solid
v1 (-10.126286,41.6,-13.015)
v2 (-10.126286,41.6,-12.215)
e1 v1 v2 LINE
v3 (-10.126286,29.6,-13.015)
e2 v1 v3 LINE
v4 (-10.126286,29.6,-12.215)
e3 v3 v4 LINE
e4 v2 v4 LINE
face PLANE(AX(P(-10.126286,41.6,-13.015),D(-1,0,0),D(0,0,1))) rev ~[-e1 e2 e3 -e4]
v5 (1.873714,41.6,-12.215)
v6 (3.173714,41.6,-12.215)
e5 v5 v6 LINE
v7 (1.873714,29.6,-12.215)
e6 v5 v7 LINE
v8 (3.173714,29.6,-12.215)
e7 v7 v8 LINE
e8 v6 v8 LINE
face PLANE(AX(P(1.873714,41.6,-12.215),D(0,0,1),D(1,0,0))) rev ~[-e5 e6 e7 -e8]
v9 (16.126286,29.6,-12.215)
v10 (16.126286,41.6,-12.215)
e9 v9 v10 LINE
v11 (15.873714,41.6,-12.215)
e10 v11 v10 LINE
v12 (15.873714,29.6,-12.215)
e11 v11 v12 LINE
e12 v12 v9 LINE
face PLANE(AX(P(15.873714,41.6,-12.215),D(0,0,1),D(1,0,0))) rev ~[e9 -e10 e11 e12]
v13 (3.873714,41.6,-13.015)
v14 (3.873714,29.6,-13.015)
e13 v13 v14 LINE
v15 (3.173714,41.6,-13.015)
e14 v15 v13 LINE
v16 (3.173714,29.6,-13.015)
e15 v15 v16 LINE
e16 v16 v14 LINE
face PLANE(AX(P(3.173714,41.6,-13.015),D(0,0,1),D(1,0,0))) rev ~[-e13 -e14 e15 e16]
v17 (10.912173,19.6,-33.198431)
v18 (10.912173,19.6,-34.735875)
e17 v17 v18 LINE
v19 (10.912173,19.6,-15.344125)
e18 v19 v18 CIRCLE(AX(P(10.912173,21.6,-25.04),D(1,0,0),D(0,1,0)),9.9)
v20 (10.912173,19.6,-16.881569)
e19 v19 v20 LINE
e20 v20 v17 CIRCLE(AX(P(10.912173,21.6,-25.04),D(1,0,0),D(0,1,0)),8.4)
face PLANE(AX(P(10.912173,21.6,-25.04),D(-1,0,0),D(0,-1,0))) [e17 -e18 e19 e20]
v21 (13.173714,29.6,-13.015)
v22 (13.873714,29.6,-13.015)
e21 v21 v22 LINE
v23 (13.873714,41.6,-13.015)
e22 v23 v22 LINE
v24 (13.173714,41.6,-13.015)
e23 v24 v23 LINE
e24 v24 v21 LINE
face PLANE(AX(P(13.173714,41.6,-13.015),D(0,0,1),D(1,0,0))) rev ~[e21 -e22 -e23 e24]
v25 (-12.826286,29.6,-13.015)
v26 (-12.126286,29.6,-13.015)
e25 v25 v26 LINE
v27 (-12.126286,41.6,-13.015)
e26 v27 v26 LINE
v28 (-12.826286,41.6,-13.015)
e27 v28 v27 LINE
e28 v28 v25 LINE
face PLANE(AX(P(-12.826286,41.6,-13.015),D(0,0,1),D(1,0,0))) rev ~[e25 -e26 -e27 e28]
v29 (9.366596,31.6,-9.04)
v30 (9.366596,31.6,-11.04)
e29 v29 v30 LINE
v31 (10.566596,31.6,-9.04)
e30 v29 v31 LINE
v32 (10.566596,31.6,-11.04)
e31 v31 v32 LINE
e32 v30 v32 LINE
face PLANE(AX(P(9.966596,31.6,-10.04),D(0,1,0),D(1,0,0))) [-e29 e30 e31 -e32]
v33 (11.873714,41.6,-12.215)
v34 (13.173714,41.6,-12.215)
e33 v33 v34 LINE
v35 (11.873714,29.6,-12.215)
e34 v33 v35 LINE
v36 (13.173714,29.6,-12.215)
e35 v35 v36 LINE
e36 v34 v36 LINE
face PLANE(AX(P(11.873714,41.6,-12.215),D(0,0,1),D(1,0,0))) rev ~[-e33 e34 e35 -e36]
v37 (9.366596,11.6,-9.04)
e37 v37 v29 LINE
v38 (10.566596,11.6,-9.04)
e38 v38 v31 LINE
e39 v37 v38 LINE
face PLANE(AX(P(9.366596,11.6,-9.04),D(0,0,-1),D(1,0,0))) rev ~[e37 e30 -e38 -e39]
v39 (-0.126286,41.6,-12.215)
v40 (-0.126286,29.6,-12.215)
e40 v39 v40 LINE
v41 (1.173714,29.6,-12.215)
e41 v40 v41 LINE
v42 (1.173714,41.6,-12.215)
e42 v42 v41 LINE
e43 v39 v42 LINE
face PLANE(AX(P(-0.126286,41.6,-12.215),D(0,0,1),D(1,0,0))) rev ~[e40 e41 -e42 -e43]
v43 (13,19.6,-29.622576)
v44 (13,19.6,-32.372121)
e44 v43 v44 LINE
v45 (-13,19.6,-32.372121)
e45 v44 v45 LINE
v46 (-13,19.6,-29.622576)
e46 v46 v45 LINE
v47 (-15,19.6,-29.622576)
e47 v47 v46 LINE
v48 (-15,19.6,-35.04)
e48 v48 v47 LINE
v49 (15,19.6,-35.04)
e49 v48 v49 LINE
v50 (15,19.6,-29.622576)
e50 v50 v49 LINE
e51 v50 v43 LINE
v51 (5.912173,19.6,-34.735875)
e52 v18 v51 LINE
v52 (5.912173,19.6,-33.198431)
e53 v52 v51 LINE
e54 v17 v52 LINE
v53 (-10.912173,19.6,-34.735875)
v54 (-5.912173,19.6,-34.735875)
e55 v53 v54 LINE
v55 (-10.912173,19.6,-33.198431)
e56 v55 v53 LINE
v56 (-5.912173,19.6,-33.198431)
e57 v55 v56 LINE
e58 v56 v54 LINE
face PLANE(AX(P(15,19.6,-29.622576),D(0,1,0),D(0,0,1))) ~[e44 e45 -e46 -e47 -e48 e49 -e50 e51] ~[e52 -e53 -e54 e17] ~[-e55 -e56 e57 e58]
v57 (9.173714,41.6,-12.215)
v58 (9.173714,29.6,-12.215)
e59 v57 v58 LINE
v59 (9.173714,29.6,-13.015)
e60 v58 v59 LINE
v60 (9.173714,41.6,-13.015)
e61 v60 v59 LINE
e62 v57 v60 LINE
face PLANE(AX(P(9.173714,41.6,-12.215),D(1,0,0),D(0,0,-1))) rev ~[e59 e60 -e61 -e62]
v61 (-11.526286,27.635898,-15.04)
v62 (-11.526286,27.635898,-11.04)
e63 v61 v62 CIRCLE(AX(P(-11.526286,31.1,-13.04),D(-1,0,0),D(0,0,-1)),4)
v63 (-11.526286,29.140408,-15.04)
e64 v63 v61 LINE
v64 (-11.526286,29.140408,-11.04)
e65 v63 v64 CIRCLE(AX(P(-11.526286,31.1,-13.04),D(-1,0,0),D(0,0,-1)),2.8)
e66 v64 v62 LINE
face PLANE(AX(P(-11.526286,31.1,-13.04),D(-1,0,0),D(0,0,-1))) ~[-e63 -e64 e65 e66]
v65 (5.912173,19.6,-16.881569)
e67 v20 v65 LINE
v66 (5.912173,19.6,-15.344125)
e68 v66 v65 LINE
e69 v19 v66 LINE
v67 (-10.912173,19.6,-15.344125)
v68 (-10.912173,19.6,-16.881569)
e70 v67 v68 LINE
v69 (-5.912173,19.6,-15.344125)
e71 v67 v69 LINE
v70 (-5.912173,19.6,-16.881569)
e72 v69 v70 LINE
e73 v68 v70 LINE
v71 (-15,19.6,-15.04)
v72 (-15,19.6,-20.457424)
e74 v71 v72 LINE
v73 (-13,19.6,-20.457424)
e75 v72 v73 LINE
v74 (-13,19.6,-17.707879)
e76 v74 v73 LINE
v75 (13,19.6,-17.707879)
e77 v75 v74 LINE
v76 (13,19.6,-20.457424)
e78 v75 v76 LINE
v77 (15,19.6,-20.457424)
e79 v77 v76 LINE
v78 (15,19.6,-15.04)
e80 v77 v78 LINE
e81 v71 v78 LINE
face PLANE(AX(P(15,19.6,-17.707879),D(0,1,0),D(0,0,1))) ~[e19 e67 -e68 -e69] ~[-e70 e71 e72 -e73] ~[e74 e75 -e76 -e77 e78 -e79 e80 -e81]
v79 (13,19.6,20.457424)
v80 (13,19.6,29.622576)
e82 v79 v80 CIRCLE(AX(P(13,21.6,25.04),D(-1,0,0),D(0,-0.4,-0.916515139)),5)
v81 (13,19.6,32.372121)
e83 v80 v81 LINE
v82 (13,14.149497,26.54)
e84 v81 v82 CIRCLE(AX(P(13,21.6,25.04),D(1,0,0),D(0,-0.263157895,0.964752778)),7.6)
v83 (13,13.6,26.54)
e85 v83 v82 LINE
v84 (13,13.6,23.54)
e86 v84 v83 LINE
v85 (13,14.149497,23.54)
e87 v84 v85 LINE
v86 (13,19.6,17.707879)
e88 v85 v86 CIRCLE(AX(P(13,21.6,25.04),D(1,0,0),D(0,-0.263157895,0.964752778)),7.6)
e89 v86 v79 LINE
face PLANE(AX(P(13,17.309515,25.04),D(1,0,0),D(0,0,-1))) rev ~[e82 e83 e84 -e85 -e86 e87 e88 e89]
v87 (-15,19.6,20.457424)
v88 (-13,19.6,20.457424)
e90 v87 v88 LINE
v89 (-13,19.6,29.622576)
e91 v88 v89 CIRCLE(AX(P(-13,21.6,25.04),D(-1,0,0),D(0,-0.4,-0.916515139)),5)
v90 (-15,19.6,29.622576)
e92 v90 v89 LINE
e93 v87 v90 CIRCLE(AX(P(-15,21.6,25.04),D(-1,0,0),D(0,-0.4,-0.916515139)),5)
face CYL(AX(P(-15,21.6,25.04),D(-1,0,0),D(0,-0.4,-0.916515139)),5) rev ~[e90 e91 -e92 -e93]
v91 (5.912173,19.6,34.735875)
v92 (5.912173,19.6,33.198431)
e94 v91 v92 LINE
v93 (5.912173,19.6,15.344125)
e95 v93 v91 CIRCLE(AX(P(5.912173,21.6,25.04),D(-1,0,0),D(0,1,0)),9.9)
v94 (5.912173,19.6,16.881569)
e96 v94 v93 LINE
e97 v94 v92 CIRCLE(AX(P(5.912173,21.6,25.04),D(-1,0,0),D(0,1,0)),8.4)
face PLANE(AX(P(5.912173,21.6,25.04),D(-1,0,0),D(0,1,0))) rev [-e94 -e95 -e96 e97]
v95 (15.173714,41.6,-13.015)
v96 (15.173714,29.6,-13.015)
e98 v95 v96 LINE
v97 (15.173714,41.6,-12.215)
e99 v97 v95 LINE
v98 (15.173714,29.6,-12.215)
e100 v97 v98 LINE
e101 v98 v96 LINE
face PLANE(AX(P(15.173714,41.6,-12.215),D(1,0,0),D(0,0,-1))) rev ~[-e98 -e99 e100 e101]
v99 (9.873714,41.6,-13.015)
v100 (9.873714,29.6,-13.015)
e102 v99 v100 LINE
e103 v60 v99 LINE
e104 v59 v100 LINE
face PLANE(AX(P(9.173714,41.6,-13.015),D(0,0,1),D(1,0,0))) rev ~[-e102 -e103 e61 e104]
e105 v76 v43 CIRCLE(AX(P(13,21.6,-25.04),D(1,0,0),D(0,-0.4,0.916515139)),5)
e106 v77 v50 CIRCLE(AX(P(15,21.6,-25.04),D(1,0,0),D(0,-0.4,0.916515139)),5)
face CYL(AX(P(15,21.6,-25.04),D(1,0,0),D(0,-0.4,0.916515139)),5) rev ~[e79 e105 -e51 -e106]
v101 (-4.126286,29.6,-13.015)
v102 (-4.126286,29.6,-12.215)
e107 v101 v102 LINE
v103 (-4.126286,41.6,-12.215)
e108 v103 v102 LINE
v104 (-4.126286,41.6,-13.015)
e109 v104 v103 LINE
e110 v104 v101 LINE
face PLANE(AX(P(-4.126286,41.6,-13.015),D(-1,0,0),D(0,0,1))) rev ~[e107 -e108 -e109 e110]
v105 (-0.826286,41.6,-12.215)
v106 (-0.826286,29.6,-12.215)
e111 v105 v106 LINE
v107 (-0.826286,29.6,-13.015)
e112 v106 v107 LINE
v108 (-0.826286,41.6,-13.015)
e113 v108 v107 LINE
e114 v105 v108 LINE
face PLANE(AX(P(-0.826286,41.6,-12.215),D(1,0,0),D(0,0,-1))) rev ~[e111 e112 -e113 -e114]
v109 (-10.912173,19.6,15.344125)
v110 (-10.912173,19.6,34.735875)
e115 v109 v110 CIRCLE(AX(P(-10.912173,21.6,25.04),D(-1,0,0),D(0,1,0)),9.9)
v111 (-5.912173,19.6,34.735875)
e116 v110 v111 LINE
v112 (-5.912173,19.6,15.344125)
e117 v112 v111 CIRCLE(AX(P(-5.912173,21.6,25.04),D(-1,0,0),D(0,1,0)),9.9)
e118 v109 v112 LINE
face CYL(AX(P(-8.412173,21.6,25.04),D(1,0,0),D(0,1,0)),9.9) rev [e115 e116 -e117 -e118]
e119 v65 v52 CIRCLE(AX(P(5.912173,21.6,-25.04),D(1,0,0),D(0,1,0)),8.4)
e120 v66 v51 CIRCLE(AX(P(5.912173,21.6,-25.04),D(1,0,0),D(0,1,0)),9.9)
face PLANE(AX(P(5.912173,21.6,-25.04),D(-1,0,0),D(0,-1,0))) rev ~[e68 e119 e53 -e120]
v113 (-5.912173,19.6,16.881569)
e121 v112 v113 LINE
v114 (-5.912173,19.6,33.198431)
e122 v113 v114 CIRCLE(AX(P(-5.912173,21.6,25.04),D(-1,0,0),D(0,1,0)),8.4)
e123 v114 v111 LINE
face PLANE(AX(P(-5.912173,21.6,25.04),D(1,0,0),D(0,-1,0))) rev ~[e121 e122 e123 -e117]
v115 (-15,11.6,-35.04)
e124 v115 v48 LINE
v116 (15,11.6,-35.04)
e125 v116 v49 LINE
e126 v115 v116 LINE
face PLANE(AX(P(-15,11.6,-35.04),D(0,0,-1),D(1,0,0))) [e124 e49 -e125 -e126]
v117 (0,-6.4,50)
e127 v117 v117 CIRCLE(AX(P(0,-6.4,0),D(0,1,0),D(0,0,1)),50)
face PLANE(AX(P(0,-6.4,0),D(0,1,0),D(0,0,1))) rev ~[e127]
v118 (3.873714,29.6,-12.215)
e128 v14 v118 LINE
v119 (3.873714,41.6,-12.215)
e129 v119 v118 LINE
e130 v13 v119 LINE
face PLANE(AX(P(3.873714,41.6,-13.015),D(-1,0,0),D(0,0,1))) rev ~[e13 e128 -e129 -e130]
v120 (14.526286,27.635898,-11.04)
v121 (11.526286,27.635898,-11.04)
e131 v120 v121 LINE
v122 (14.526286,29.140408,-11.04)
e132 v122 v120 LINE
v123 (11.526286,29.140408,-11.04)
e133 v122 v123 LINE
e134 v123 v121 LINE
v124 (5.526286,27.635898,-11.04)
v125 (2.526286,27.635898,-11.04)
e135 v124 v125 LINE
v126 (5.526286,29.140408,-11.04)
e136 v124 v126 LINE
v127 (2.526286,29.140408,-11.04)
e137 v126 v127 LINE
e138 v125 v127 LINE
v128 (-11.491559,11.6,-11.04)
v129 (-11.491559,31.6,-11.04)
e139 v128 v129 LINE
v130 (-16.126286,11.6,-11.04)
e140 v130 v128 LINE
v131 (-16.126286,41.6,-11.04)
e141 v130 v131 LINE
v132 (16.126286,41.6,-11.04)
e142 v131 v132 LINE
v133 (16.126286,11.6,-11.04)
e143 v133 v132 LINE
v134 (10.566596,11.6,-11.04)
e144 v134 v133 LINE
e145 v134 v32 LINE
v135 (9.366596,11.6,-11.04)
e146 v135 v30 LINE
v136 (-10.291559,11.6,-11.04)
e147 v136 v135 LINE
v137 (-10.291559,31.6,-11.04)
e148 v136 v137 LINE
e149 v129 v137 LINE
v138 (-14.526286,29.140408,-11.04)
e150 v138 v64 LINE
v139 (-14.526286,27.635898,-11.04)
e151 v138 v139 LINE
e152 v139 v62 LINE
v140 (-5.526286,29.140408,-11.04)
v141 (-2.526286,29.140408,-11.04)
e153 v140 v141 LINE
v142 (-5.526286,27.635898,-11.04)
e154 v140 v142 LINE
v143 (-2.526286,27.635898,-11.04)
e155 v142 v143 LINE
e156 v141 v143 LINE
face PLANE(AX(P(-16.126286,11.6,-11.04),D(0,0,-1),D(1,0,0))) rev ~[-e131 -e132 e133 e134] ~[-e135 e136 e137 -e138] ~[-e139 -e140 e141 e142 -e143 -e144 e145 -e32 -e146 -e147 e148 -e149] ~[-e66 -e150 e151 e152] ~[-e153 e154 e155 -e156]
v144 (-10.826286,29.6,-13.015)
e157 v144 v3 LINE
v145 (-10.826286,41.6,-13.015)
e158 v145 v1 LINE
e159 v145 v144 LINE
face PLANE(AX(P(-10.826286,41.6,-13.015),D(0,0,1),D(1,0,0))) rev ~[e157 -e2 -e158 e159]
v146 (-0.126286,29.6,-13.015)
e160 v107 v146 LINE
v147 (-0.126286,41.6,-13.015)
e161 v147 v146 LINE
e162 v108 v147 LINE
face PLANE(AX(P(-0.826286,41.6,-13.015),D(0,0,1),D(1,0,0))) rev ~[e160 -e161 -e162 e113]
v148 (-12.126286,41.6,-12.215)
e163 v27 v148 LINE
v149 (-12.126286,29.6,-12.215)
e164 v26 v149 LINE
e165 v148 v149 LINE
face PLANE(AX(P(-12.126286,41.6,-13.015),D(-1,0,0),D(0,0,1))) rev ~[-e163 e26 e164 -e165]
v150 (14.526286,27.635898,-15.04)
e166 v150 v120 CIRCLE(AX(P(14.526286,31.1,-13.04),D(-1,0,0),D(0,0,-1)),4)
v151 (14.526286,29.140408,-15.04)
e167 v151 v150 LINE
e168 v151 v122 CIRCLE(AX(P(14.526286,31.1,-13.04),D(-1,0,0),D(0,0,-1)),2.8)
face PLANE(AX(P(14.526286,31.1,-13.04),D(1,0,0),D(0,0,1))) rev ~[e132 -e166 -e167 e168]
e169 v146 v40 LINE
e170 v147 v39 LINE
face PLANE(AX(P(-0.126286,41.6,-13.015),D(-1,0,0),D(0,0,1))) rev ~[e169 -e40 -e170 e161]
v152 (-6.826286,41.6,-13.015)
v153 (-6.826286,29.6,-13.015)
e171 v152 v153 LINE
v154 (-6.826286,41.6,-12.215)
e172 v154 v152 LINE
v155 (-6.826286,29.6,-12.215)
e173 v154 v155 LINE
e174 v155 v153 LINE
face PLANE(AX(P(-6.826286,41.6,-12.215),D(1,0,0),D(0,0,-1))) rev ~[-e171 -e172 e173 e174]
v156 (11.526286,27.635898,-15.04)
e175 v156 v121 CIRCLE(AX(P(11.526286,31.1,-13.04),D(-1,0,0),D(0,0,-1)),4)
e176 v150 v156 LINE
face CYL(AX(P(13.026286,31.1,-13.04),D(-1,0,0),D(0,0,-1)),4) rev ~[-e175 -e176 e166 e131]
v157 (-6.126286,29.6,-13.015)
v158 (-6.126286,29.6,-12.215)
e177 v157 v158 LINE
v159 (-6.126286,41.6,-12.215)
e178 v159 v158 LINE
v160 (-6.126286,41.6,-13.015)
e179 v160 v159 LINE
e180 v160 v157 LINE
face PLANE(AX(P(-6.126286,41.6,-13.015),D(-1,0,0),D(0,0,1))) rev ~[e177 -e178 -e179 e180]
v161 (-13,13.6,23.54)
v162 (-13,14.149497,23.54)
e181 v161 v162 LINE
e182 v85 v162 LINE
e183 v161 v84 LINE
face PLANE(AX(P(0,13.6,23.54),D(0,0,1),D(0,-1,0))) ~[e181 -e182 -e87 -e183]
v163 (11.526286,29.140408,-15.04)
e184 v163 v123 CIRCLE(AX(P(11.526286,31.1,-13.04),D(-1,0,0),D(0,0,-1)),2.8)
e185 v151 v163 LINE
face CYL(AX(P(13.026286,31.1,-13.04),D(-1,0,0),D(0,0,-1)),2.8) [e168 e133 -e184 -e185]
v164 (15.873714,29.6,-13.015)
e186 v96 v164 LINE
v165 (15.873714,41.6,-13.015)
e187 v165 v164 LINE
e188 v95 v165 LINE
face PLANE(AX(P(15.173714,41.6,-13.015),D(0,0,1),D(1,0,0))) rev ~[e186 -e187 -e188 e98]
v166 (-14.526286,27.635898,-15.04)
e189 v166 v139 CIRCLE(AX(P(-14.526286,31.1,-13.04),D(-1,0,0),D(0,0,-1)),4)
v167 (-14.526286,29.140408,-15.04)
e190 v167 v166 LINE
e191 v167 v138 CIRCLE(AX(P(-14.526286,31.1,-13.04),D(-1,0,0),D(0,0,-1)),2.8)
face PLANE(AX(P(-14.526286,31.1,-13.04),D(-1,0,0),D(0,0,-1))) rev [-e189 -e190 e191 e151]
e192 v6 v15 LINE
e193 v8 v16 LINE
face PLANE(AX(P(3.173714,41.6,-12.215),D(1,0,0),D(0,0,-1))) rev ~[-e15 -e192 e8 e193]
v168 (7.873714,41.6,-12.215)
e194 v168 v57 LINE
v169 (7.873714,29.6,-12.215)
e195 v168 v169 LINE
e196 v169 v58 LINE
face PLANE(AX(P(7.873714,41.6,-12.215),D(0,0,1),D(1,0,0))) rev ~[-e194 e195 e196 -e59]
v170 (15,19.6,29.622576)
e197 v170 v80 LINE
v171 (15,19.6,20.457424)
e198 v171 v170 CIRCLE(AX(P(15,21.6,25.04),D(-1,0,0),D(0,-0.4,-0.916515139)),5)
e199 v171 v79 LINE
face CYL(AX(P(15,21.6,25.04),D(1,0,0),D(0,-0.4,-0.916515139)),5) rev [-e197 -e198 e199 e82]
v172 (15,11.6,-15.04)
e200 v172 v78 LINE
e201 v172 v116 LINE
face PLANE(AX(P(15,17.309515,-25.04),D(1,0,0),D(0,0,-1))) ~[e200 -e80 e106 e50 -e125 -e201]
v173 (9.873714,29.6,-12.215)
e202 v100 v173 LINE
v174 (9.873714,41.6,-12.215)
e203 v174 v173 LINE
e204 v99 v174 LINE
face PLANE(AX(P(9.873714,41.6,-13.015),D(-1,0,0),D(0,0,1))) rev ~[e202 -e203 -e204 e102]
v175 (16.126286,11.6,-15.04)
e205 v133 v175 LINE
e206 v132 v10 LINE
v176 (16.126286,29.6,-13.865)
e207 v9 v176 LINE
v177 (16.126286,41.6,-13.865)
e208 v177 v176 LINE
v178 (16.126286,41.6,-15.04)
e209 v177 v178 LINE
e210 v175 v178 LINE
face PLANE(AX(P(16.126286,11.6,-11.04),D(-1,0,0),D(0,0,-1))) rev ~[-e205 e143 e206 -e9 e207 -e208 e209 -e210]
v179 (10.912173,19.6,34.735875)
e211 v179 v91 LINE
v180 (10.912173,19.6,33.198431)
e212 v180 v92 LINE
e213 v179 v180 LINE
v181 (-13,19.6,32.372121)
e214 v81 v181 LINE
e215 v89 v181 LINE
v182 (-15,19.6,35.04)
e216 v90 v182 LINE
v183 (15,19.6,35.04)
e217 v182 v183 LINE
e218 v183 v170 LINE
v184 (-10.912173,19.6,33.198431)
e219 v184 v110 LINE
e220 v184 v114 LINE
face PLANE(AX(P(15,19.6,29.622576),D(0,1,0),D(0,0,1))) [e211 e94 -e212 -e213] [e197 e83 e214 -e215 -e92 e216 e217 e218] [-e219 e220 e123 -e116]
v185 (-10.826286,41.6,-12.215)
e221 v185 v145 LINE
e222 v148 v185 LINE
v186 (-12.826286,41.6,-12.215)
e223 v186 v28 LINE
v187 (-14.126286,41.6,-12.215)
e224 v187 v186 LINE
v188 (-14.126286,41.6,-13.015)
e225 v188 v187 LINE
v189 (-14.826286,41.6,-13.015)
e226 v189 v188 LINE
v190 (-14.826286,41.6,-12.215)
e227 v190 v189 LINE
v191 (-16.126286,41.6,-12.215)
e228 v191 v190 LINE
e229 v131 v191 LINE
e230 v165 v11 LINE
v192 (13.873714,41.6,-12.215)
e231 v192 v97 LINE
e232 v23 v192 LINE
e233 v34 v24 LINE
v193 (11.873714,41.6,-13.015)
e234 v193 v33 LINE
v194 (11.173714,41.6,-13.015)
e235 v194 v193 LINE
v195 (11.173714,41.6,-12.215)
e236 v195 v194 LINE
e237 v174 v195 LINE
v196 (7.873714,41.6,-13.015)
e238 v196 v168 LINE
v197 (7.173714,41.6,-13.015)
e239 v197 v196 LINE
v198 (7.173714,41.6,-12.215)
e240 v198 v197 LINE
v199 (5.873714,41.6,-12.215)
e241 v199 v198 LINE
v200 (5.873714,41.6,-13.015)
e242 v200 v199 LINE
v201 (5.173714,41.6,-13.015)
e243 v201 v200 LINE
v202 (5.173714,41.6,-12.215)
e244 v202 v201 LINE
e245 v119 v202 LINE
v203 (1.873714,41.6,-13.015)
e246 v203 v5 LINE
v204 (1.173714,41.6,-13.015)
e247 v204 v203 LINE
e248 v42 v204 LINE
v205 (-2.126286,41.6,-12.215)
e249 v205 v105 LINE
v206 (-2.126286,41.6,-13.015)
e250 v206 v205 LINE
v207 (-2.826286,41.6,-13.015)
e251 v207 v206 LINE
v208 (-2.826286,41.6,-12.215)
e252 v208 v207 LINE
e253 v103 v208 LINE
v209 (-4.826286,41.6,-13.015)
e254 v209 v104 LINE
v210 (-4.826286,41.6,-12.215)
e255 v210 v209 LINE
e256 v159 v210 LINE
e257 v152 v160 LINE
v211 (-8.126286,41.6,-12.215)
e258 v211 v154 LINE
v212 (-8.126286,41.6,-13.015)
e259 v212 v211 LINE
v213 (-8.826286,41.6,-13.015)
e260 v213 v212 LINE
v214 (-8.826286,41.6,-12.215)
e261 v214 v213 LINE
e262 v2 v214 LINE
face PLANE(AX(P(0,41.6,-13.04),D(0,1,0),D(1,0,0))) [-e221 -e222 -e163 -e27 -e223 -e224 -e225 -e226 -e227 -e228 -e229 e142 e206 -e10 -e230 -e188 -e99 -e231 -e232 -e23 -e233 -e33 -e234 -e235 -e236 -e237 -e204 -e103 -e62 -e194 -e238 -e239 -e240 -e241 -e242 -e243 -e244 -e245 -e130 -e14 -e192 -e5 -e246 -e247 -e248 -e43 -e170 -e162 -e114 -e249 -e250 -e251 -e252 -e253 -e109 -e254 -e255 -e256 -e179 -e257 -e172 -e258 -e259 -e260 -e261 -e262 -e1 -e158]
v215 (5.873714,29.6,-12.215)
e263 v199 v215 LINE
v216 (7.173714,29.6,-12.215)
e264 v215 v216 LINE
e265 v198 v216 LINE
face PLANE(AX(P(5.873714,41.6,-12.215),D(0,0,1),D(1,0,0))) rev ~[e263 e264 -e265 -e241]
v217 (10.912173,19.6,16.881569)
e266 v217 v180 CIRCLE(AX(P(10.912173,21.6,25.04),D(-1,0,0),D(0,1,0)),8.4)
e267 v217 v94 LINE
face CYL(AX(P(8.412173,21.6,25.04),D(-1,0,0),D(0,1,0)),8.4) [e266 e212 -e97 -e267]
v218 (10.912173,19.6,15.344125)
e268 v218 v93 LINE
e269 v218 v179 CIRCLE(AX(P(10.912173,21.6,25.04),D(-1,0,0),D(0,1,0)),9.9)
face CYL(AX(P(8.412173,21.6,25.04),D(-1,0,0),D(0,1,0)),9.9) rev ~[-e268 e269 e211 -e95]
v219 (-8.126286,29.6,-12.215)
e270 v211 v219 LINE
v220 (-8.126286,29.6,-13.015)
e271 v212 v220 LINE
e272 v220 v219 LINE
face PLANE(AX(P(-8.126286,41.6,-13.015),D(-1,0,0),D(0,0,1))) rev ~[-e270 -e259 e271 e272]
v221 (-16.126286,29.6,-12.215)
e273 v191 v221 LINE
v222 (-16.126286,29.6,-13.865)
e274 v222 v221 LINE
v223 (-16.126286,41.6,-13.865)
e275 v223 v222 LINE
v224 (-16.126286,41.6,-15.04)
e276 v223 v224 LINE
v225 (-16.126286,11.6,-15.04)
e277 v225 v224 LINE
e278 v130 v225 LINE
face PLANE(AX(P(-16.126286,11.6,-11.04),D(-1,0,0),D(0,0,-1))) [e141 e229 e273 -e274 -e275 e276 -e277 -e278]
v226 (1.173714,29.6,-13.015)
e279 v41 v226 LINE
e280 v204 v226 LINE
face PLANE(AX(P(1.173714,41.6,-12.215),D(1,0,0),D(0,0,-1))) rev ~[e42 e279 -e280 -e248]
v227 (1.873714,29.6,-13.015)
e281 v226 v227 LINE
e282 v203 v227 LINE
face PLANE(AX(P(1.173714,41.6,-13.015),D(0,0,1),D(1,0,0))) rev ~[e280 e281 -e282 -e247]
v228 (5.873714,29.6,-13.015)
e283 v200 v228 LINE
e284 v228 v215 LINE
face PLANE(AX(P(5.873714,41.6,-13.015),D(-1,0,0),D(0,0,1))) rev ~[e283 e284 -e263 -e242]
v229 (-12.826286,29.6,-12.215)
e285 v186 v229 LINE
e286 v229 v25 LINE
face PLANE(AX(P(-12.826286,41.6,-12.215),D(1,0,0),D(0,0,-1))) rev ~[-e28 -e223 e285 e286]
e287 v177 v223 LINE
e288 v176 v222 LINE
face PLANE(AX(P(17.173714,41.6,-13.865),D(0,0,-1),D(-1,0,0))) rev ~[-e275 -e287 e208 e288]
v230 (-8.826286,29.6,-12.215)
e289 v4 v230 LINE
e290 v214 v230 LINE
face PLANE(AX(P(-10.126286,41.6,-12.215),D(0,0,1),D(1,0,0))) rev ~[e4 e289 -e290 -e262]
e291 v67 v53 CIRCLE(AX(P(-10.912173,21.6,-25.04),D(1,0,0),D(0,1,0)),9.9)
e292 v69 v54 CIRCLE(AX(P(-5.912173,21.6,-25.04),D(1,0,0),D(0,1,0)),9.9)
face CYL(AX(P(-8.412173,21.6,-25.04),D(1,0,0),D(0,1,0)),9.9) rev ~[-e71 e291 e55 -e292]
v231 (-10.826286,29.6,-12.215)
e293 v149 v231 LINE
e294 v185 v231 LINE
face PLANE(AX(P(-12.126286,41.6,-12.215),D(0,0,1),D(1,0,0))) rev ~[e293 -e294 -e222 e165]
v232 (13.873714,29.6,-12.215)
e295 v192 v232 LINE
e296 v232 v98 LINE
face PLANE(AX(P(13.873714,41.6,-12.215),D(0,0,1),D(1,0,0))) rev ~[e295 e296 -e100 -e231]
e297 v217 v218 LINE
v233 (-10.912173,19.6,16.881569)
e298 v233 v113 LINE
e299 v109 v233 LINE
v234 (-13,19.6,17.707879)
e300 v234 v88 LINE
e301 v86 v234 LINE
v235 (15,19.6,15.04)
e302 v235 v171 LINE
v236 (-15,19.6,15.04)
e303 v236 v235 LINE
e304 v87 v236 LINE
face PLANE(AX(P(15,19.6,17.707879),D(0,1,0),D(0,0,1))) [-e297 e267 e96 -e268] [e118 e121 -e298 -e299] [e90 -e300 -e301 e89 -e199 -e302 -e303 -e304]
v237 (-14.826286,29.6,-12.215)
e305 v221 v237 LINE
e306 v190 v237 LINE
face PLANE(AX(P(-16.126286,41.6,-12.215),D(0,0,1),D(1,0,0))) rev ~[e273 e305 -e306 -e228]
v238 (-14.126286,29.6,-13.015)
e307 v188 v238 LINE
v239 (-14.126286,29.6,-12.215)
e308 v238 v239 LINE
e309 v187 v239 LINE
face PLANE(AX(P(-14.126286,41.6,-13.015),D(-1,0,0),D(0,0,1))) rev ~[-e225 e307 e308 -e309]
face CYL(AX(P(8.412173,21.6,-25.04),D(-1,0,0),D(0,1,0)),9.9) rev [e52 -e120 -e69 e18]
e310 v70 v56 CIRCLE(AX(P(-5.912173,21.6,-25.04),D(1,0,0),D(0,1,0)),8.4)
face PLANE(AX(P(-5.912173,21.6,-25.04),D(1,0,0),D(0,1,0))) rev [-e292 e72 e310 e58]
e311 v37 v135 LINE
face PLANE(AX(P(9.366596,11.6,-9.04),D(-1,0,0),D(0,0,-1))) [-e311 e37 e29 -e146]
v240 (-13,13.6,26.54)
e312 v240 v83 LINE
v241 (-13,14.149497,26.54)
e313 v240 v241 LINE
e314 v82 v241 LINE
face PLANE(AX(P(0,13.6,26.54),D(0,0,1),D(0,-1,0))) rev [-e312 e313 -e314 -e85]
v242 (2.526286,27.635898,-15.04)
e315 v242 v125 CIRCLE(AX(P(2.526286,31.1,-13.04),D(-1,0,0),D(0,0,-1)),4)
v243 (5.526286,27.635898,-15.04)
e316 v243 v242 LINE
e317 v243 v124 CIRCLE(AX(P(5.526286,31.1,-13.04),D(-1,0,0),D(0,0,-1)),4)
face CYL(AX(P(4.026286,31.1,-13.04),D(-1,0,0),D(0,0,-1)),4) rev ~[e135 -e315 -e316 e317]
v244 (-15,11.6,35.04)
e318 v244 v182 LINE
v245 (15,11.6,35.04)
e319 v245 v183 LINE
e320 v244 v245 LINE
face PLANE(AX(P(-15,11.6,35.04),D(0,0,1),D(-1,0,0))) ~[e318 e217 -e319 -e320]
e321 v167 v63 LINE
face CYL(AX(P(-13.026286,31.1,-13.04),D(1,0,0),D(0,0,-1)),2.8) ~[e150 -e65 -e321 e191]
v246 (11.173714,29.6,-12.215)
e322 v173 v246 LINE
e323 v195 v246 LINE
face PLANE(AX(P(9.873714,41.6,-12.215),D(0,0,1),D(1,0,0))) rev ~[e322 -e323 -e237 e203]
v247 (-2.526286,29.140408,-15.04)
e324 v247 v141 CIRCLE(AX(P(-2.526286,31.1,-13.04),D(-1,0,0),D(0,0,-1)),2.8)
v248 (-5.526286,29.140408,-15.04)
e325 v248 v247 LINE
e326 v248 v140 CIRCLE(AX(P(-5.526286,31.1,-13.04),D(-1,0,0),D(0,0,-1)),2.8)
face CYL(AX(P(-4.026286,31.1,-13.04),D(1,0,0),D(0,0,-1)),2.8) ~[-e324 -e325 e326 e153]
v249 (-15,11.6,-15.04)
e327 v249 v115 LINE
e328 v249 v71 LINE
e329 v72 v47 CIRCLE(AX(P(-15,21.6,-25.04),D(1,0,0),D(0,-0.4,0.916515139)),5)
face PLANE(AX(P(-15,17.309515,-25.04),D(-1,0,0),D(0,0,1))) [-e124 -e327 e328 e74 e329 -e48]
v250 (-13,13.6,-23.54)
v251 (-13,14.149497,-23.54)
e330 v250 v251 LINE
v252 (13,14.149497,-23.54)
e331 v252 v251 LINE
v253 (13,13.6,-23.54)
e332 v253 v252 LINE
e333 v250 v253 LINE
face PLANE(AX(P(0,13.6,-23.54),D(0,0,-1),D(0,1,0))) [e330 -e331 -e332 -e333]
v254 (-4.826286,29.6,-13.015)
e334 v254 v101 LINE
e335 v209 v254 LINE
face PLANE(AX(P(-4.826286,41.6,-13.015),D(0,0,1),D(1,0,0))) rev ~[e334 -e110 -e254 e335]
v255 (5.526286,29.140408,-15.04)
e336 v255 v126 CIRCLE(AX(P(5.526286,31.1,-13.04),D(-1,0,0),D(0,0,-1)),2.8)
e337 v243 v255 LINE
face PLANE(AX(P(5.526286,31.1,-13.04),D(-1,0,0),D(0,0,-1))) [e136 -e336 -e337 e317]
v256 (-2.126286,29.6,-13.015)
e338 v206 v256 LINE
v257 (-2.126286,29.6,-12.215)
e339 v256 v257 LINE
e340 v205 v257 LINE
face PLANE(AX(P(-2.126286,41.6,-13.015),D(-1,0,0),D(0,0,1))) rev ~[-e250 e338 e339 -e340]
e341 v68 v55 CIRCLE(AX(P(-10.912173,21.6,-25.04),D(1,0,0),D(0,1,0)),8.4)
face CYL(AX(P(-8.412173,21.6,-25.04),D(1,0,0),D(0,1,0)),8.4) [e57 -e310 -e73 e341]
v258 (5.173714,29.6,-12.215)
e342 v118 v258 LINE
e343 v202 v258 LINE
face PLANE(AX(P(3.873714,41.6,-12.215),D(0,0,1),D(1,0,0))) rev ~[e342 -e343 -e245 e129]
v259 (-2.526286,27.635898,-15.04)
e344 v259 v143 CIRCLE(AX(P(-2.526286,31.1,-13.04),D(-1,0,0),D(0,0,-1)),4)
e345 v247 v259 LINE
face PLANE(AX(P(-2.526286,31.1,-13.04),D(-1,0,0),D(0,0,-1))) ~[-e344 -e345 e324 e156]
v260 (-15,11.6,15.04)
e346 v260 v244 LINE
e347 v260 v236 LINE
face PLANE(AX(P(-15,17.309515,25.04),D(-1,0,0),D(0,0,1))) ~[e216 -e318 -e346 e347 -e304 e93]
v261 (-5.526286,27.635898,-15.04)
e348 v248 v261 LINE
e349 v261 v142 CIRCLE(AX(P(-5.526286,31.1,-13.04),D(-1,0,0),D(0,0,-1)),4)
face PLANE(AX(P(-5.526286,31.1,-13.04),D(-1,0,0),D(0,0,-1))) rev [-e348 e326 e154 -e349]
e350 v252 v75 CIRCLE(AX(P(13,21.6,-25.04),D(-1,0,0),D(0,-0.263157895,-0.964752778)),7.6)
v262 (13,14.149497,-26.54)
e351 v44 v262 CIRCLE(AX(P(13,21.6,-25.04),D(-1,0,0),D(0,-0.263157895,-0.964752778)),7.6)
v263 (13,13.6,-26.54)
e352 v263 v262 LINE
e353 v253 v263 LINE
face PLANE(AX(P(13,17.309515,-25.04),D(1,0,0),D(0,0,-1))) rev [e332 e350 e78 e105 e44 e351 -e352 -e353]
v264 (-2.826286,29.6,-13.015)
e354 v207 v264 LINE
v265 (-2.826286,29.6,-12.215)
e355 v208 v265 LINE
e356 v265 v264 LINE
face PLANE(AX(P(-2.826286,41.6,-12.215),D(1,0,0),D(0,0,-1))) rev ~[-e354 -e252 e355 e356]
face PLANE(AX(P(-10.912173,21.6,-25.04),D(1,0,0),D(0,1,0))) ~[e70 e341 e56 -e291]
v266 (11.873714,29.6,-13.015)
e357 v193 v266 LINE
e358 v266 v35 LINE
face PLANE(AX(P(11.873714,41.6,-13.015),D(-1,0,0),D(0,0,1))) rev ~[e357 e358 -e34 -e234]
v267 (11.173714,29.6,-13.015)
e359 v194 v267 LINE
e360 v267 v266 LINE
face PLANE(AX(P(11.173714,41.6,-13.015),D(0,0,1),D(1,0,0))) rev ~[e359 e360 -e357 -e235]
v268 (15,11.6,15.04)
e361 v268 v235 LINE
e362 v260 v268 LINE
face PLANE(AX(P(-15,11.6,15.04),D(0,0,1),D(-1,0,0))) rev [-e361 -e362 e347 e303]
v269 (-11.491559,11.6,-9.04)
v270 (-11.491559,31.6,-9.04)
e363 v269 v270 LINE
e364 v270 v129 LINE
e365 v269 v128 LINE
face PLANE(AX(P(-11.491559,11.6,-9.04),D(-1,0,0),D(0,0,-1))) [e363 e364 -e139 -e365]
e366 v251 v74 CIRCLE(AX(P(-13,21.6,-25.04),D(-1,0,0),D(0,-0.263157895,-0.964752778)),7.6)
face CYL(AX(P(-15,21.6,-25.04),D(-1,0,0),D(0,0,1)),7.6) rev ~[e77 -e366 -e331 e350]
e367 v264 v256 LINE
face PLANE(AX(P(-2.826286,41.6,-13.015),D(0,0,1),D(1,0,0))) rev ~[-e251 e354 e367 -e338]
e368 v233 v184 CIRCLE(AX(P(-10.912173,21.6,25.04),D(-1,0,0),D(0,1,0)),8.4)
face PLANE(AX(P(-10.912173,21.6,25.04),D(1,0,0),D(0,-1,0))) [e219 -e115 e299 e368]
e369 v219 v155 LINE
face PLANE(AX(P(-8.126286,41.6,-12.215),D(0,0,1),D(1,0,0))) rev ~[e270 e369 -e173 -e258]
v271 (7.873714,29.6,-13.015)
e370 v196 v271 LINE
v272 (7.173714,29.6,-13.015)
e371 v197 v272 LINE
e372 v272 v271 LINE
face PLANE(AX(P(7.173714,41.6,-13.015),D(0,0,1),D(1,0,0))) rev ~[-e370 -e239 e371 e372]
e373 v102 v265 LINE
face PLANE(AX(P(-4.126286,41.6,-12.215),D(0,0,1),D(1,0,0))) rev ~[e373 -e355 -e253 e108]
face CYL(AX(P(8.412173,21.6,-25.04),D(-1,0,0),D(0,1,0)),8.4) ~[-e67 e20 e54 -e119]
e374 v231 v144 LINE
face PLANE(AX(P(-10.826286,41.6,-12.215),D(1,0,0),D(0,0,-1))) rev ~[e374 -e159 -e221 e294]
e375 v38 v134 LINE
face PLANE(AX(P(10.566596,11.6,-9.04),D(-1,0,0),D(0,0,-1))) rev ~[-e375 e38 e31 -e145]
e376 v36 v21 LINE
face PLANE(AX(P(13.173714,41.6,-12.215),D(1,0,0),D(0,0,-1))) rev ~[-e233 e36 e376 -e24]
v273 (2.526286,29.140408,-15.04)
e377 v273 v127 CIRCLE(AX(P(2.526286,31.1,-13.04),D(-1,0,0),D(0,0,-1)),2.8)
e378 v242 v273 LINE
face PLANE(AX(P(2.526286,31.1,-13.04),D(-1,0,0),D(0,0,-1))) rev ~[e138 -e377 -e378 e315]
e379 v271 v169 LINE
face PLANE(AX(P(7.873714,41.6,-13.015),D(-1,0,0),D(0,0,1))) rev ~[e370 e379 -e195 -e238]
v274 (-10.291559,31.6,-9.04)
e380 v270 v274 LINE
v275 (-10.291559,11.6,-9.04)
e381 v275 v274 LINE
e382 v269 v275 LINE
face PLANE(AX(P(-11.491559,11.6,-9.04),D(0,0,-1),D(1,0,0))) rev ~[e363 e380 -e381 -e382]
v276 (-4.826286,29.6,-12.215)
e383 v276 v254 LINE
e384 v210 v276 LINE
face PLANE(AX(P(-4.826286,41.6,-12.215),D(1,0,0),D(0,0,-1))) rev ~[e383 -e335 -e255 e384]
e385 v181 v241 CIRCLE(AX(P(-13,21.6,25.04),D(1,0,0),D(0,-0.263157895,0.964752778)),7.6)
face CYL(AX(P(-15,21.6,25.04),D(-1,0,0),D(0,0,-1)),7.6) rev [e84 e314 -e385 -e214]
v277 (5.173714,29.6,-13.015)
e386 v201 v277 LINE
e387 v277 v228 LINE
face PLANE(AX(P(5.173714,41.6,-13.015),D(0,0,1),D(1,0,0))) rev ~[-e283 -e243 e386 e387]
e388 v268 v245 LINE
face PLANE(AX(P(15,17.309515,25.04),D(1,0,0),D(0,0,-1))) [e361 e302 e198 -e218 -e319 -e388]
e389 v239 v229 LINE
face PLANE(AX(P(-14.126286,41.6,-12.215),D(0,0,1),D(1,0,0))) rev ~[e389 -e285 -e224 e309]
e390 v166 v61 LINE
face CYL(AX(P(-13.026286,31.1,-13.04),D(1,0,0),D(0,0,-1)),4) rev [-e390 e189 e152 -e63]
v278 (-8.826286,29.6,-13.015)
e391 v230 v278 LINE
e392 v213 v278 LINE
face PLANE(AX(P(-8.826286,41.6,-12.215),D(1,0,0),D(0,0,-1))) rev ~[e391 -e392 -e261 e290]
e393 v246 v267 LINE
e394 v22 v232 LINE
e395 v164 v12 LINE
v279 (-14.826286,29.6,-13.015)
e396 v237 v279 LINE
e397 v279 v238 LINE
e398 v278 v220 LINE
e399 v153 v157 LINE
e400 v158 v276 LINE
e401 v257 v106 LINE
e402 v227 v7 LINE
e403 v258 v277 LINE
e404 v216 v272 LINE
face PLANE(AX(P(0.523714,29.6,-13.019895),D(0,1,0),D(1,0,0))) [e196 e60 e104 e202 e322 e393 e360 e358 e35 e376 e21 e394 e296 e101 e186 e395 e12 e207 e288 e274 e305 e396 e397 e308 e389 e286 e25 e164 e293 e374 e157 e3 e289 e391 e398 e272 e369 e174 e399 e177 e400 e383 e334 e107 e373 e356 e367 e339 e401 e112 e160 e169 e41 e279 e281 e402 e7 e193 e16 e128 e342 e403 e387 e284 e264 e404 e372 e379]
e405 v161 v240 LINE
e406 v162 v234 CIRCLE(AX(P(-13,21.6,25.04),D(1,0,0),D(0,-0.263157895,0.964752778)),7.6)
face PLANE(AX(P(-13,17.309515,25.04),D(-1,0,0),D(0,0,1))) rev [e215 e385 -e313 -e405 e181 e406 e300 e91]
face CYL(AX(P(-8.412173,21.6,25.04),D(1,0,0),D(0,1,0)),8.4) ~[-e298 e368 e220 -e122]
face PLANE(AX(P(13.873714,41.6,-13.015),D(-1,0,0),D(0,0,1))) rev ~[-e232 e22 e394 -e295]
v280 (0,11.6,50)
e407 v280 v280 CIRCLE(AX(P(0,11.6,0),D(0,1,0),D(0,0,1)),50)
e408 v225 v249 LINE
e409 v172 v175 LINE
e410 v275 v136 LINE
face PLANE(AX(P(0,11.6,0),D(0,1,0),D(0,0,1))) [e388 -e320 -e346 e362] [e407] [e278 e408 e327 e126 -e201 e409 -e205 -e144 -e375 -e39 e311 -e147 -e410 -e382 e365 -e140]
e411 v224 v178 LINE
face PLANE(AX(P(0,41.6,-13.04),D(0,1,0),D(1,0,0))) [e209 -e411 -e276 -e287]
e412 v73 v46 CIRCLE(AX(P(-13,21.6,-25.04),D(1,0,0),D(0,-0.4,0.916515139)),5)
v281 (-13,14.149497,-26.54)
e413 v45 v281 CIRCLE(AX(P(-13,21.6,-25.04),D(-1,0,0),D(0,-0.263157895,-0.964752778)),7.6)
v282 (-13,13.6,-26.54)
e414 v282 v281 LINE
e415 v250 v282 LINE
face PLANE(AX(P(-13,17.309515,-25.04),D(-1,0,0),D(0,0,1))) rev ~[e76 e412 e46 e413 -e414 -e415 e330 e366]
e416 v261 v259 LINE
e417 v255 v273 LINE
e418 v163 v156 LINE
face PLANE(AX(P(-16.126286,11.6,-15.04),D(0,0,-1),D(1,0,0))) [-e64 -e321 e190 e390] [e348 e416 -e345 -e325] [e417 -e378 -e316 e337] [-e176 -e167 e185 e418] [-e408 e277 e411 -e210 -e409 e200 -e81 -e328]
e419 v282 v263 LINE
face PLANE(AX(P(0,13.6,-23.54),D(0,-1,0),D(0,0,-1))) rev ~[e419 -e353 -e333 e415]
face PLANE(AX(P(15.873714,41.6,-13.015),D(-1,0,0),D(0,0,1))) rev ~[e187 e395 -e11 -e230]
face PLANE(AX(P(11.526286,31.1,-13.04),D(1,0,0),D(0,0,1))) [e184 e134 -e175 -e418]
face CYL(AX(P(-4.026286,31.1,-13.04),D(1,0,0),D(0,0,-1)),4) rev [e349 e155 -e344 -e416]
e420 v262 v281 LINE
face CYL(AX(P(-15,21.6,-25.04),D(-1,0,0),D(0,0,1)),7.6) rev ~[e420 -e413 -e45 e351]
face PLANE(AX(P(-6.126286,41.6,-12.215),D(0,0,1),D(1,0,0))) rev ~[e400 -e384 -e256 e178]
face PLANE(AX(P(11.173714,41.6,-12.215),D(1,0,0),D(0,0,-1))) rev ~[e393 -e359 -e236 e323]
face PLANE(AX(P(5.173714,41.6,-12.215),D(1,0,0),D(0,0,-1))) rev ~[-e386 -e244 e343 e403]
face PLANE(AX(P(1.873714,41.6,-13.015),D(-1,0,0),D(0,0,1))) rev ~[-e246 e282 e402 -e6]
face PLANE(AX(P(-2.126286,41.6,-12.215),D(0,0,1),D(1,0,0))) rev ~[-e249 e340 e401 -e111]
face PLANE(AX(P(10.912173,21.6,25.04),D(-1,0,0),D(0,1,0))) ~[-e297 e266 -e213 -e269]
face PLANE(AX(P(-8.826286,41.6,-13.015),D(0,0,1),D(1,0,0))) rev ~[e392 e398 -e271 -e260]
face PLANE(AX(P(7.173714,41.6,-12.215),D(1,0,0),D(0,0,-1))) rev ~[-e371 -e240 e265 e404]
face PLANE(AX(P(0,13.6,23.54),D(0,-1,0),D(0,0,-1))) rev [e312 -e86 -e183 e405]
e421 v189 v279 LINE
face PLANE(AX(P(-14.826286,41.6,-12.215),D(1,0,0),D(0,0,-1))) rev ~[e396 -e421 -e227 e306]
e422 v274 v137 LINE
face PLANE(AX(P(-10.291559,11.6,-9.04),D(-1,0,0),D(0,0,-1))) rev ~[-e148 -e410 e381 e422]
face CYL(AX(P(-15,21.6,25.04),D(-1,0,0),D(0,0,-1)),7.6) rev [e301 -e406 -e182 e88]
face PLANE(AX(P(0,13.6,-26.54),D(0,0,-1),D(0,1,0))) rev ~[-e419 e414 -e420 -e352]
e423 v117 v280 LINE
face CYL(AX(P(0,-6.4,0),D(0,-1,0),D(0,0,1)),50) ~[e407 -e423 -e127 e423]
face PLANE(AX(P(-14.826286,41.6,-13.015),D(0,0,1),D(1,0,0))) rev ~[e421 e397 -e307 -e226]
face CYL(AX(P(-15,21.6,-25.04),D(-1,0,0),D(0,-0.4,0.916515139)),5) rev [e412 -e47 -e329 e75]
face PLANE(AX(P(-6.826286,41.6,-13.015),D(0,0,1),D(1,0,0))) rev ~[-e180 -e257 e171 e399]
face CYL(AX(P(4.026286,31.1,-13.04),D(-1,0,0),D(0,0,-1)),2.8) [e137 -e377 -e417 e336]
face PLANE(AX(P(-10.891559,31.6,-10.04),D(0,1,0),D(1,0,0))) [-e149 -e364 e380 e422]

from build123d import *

# Parameters (mm, degrees)
AUFSATZ_LINEAR_AUSTRAGEN1_DEPTH      = 1.6
AUFSATZ_LINEAR_AUSTRAGEN1_DEPTH_BACK = 16.4
SKIZZE1_R                            = 50
SKIZZE2_W                            = 30
SKIZZE2_H                            = 20
AUFSATZ_LINEAR_AUSTRAGEN2_DEPTH      = 8
SKIZZE4_R                            = 7.6
SCHNITT_LINEAR_AUSTRAGEN1_DEPTH      = 85.315834812
AUFSATZ_LINEAR_AUSTRAGEN3_DEPTH      = 2
SKIZZE7_W                            = 3
SKIZZE7_H                            = 0.8
SCHNITT_LINEAR_AUSTRAGEN2_DEPTH      = 13
SKIZZE6_W                            = 5
SKIZZE6_H                            = 1.5
SPIEGELN3_COPY_1_DEPTH               = 2
SPIEGELN3_COPY_2_SKETCH_W            = 5
SPIEGELN3_COPY_2_SKETCH_H            = 1.5
SKIZZE9_W                            = 32.252572888
SKIZZE9_H                            = 4
AUFSATZ_LINEAR_AUSTRAGEN4_DEPTH      = 30
SCHNITT_LINEAR_AUSTRAGEN3_DEPTH      = 12
SKIZZE11_W                           = 1.2
SKIZZE11_H                           = 2
AUFSATZ_LINEAR_AUSTRAGEN5_DEPTH      = 20
SKIZZE13_W                           = 3
SKIZZE13_H                           = 1.2
SCHNITT_ROTATION3_ANGLE              = 180
LINEARES_MUSTER1_COUNT               = 2
LINEARES_MUSTER1_PITCH               = 9
SPIEGELN4_COPY_1_SKETCH_W            = 3
SPIEGELN4_COPY_1_SKETCH_H            = 1.2
SPIEGELN4_COPY_1_ANGLE               = 180


with BuildPart() as part:
    # Skizze1 → Aufsatz-Linear austragen1 (new, two sides: drawn at the far end of the back side and taken through both)
    with BuildSketch(Plane(origin=(0, 10, 0), x_dir=(1, 0, 0), z_dir=(0, 1, 0)).offset(-AUFSATZ_LINEAR_AUSTRAGEN1_DEPTH_BACK)):
        with Locations(Location((0, 0, 0), (0, 0, 270))):
            Circle(SKIZZE1_R)
    extrude(amount=AUFSATZ_LINEAR_AUSTRAGEN1_DEPTH + AUFSATZ_LINEAR_AUSTRAGEN1_DEPTH_BACK)

    # Skizze2 → Aufsatz-Linear austragen2 (add)
    with BuildSketch(Plane(origin=(0, 11.6, 0), x_dir=(1, 0, 0), z_dir=(0, 1, 0))):
        with Locations((0, 25.04)):
            Rectangle(SKIZZE2_W, SKIZZE2_H)
    aufsatz_linear_austragen2 = extrude(amount=AUFSATZ_LINEAR_AUSTRAGEN2_DEPTH)

    # Skizze4 → Schnitt-Linear austragen1 (cut, through all)
    with BuildSketch(Plane.ZY.offset(15)):
        with Locations((-25.04, 21.6)):
            Circle(SKIZZE4_R)
    schnitt_linear_austragen1 = extrude(amount=-SCHNITT_LINEAR_AUSTRAGEN1_DEPTH, mode=Mode.SUBTRACT)

    # Skizze5 → Aufsatz-Linear austragen3 (add)
    with BuildSketch(Plane.ZY.offset(15)):
        with BuildLine():
            Line((-29.622575695, 19.6), (-32.372121112, 19.6))
            ThreePointArc((-32.372121112, 19.6), (-25.04, 14), (-17.707878888, 19.6))
            Line((-17.707878888, 19.6), (-20.457424305, 19.6))
            ThreePointArc((-20.457424305, 19.6), (-25.04, 16.6), (-29.622575695, 19.6))
        make_face()
    aufsatz_linear_austragen3 = extrude(amount=-AUFSATZ_LINEAR_AUSTRAGEN3_DEPTH)

    # Spiegeln1: Aufsatz-Linear austragen3 across plane
    add(aufsatz_linear_austragen3.mirror(Plane(origin=(0, 0, 0), x_dir=(0, 0, 1), z_dir=(1, 0, 0))))

    # Skizze7 → Schnitt-Linear austragen2 (cut, symmetric)
    with BuildSketch(Plane(origin=(0, 0, 0), x_dir=(0, 0, -1), z_dir=(1, 0, 0))):
        with Locations((25.04, 14)):
            Rectangle(SKIZZE7_W, SKIZZE7_H)
    schnitt_linear_austragen2 = extrude(amount=SCHNITT_LINEAR_AUSTRAGEN2_DEPTH, both=True, mode=Mode.SUBTRACT)

    # Skizze6 → Schnitt-Rotation2 (revolve, cut)
    with BuildSketch(Plane.XY.offset(-25.04)):
        with Locations((-8.412172741, 30.75)):
            Rectangle(SKIZZE6_W, SKIZZE6_H)
    schnitt_rotation2 = revolve(axis=Axis((-15, 21.6, -25.04), (1, 0, 0)), mode=Mode.SUBTRACT)

    # Spiegeln2: Schnitt-Rotation2 across plane
    add(schnitt_rotation2.mirror(Plane(origin=(0, 0, 0), x_dir=(0, 0, 1), z_dir=(1, 0, 0))), mode=Mode.SUBTRACT)

    # Spiegeln3: Aufsatz-Linear austragen2, Schnitt-Linear austragen1, Aufsatz-Linear austragen3, Schnitt-Linear austragen2, Schnitt-Rotation2 across plane
    add(aufsatz_linear_austragen2.mirror(Plane.XY))
    add(schnitt_linear_austragen1.mirror(Plane.XY), mode=Mode.SUBTRACT)
    add(aufsatz_linear_austragen3.mirror(Plane.XY))
    add(schnitt_linear_austragen2.mirror(Plane.XY), mode=Mode.SUBTRACT)
    add(schnitt_rotation2.mirror(Plane.XY), mode=Mode.SUBTRACT)

    # Spiegeln3 copy 1 sketch → Spiegeln3 copy 1 (add)
    with BuildSketch(Plane(origin=(15, 0, 0), x_dir=(0, 0, -1), z_dir=(1, 0, 0))):
        with BuildLine():
            Line((-29.622575695, 19.6), (-32.372121112, 19.6))
            ThreePointArc((-32.372121112, 19.6), (-25.04, 14), (-17.707878888, 19.6))
            Line((-17.707878888, 19.6), (-20.457424305, 19.6))
            ThreePointArc((-20.457424305, 19.6), (-25.04, 16.6), (-29.622575695, 19.6))
        make_face()
    extrude(amount=-SPIEGELN3_COPY_1_DEPTH)

    # Spiegeln3 copy 2 sketch → Spiegeln3 copy 2 (revolve, cut)
    with BuildSketch(Plane(origin=(0, 0, 25.04), x_dir=(-1, 0, 0), z_dir=(0, 0, -1))):
        with Locations((-8.412172741, 30.75)):
            Rectangle(SPIEGELN3_COPY_2_SKETCH_W, SPIEGELN3_COPY_2_SKETCH_H)
    revolve(axis=Axis((15, 21.6, 25.04), (-1, 0, 0)), mode=Mode.SUBTRACT)

    # Skizze9 → Aufsatz-Linear austragen4 (add)
    with BuildSketch(Plane(origin=(0, 11.6, 0), x_dir=(1, 0, 0), z_dir=(0, 1, 0))):
        with Locations((0, 13.04)):
            Rectangle(SKIZZE9_W, SKIZZE9_H)
    extrude(amount=AUFSATZ_LINEAR_AUSTRAGEN4_DEPTH)

    # Skizze10 → Schnitt-Linear austragen3 (cut)
    with BuildSketch(Plane(origin=(0, 41.6, 0), x_dir=(1, 0, 0), z_dir=(0, 1, 0))):
        Polygon((-16.126286444, 12.215), (-14.826286444, 12.215), (-14.826286444, 13.015), (-14.126286444, 13.015), (-14.126286444, 12.215), (-12.826286444, 12.215), (-12.826286444, 13.015), (-12.126286444, 13.015), (-12.126286444, 12.215), (-10.826286444, 12.215), (-10.826286444, 13.015), (-10.126286444, 13.015), (-10.126286444, 12.215), (-8.826286444, 12.215), (-8.826286444, 13.015), (-8.126286444, 13.015), (-8.126286444, 12.215), (-6.826286444, 12.215), (-6.826286444, 13.015), (-6.126286444, 13.015), (-6.126286444, 12.215), (-4.826286444, 12.215), (-4.826286444, 13.015), (-4.126286444, 13.015), (-4.126286444, 12.215), (-2.826286444, 12.215), (-2.826286444, 13.015), (-2.126286444, 13.015), (-2.126286444, 12.215), (-0.826286444, 12.215), (-0.826286444, 13.015), (-0.126286444, 13.015), (-0.126286444, 12.215), (1.173713556, 12.215), (1.173713556, 13.015), (1.873713556, 13.015), (1.873713556, 12.215), (3.173713556, 12.215), (3.173713556, 13.015), (3.873713556, 13.015), (3.873713556, 12.215), (5.173713556, 12.215), (5.173713556, 13.015), (5.873713556, 13.015), (5.873713556, 12.215), (7.173713556, 12.215), (7.173713556, 13.015), (7.873713556, 13.015), (7.873713556, 12.215), (9.173713556, 12.215), (9.173713556, 13.015), (9.873713556, 13.015), (9.873713556, 12.215), (11.173713556, 12.215), (11.173713556, 13.015), (11.873713556, 13.015), (11.873713556, 12.215), (13.173713556, 12.215), (13.173713556, 13.015), (13.873713556, 13.015), (13.873713556, 12.215), (15.173713556, 12.215), (15.173713556, 13.015), (15.873713556, 13.015), (15.873713556, 12.215), (17.173713556, 12.215), (17.173713556, 13.865), (-16.126286444, 13.865), (-16.126286444, 13.065), align=None)
    extrude(amount=-SCHNITT_LINEAR_AUSTRAGEN3_DEPTH, mode=Mode.SUBTRACT)

    # Skizze11 → Aufsatz-Linear austragen5 (add)
    with BuildSketch(Plane(origin=(0, 11.6, 0), x_dir=(1, 0, 0), z_dir=(0, 1, 0))):
        with Locations((-10.891559468, 10.04)):
            Rectangle(SKIZZE11_W, SKIZZE11_H)
        with Locations((9.966595777, 10.04)):
            Rectangle(SKIZZE11_W, SKIZZE11_H)
    extrude(amount=AUFSATZ_LINEAR_AUSTRAGEN5_DEPTH)

    # Skizze13 → Schnitt-Rotation3 (revolve, cut)
    with BuildSketch(Plane(origin=(0, 31.1, 0), x_dir=(1, 0, 0), z_dir=(0, 1, 0))):
        with Locations((-13.026286444, 16.44)):
            Rectangle(SKIZZE13_W, SKIZZE13_H)
    schnitt_rotation3 = revolve(axis=Axis((-16.126286444, 31.1, -13.04), (-1, 0, 0)), revolution_arc=SCHNITT_ROTATION3_ANGLE, mode=Mode.SUBTRACT)

    # Lineares Muster1: Schnitt-Rotation3 ×2
    with Locations(*[(i * LINEARES_MUSTER1_PITCH, 0, 0) for i in range(1, LINEARES_MUSTER1_COUNT)]):
        add(schnitt_rotation3, mode=Mode.SUBTRACT)

    # Spiegeln4: Schnitt-Rotation3 across plane
    add(schnitt_rotation3.mirror(Plane(origin=(0, 0, 0), x_dir=(0, 0, 1), z_dir=(1, 0, 0))), mode=Mode.SUBTRACT)

    # Spiegeln4 copy 1 sketch → Spiegeln4 copy 1 (revolve, cut)
    with BuildSketch(Plane(origin=(-9, 31.1, 0), x_dir=(-1, 0, 0), z_dir=(0, 1, 0))):
        with Locations((-13.026286444, -16.44)):
            Rectangle(SPIEGELN4_COPY_1_SKETCH_W, SPIEGELN4_COPY_1_SKETCH_H)
    revolve(axis=Axis((7.126286444, 31.1, -13.04), (-1, 0, 0)), revolution_arc=SPIEGELN4_COPY_1_ANGLE, mode=Mode.SUBTRACT)


solid = part.part
